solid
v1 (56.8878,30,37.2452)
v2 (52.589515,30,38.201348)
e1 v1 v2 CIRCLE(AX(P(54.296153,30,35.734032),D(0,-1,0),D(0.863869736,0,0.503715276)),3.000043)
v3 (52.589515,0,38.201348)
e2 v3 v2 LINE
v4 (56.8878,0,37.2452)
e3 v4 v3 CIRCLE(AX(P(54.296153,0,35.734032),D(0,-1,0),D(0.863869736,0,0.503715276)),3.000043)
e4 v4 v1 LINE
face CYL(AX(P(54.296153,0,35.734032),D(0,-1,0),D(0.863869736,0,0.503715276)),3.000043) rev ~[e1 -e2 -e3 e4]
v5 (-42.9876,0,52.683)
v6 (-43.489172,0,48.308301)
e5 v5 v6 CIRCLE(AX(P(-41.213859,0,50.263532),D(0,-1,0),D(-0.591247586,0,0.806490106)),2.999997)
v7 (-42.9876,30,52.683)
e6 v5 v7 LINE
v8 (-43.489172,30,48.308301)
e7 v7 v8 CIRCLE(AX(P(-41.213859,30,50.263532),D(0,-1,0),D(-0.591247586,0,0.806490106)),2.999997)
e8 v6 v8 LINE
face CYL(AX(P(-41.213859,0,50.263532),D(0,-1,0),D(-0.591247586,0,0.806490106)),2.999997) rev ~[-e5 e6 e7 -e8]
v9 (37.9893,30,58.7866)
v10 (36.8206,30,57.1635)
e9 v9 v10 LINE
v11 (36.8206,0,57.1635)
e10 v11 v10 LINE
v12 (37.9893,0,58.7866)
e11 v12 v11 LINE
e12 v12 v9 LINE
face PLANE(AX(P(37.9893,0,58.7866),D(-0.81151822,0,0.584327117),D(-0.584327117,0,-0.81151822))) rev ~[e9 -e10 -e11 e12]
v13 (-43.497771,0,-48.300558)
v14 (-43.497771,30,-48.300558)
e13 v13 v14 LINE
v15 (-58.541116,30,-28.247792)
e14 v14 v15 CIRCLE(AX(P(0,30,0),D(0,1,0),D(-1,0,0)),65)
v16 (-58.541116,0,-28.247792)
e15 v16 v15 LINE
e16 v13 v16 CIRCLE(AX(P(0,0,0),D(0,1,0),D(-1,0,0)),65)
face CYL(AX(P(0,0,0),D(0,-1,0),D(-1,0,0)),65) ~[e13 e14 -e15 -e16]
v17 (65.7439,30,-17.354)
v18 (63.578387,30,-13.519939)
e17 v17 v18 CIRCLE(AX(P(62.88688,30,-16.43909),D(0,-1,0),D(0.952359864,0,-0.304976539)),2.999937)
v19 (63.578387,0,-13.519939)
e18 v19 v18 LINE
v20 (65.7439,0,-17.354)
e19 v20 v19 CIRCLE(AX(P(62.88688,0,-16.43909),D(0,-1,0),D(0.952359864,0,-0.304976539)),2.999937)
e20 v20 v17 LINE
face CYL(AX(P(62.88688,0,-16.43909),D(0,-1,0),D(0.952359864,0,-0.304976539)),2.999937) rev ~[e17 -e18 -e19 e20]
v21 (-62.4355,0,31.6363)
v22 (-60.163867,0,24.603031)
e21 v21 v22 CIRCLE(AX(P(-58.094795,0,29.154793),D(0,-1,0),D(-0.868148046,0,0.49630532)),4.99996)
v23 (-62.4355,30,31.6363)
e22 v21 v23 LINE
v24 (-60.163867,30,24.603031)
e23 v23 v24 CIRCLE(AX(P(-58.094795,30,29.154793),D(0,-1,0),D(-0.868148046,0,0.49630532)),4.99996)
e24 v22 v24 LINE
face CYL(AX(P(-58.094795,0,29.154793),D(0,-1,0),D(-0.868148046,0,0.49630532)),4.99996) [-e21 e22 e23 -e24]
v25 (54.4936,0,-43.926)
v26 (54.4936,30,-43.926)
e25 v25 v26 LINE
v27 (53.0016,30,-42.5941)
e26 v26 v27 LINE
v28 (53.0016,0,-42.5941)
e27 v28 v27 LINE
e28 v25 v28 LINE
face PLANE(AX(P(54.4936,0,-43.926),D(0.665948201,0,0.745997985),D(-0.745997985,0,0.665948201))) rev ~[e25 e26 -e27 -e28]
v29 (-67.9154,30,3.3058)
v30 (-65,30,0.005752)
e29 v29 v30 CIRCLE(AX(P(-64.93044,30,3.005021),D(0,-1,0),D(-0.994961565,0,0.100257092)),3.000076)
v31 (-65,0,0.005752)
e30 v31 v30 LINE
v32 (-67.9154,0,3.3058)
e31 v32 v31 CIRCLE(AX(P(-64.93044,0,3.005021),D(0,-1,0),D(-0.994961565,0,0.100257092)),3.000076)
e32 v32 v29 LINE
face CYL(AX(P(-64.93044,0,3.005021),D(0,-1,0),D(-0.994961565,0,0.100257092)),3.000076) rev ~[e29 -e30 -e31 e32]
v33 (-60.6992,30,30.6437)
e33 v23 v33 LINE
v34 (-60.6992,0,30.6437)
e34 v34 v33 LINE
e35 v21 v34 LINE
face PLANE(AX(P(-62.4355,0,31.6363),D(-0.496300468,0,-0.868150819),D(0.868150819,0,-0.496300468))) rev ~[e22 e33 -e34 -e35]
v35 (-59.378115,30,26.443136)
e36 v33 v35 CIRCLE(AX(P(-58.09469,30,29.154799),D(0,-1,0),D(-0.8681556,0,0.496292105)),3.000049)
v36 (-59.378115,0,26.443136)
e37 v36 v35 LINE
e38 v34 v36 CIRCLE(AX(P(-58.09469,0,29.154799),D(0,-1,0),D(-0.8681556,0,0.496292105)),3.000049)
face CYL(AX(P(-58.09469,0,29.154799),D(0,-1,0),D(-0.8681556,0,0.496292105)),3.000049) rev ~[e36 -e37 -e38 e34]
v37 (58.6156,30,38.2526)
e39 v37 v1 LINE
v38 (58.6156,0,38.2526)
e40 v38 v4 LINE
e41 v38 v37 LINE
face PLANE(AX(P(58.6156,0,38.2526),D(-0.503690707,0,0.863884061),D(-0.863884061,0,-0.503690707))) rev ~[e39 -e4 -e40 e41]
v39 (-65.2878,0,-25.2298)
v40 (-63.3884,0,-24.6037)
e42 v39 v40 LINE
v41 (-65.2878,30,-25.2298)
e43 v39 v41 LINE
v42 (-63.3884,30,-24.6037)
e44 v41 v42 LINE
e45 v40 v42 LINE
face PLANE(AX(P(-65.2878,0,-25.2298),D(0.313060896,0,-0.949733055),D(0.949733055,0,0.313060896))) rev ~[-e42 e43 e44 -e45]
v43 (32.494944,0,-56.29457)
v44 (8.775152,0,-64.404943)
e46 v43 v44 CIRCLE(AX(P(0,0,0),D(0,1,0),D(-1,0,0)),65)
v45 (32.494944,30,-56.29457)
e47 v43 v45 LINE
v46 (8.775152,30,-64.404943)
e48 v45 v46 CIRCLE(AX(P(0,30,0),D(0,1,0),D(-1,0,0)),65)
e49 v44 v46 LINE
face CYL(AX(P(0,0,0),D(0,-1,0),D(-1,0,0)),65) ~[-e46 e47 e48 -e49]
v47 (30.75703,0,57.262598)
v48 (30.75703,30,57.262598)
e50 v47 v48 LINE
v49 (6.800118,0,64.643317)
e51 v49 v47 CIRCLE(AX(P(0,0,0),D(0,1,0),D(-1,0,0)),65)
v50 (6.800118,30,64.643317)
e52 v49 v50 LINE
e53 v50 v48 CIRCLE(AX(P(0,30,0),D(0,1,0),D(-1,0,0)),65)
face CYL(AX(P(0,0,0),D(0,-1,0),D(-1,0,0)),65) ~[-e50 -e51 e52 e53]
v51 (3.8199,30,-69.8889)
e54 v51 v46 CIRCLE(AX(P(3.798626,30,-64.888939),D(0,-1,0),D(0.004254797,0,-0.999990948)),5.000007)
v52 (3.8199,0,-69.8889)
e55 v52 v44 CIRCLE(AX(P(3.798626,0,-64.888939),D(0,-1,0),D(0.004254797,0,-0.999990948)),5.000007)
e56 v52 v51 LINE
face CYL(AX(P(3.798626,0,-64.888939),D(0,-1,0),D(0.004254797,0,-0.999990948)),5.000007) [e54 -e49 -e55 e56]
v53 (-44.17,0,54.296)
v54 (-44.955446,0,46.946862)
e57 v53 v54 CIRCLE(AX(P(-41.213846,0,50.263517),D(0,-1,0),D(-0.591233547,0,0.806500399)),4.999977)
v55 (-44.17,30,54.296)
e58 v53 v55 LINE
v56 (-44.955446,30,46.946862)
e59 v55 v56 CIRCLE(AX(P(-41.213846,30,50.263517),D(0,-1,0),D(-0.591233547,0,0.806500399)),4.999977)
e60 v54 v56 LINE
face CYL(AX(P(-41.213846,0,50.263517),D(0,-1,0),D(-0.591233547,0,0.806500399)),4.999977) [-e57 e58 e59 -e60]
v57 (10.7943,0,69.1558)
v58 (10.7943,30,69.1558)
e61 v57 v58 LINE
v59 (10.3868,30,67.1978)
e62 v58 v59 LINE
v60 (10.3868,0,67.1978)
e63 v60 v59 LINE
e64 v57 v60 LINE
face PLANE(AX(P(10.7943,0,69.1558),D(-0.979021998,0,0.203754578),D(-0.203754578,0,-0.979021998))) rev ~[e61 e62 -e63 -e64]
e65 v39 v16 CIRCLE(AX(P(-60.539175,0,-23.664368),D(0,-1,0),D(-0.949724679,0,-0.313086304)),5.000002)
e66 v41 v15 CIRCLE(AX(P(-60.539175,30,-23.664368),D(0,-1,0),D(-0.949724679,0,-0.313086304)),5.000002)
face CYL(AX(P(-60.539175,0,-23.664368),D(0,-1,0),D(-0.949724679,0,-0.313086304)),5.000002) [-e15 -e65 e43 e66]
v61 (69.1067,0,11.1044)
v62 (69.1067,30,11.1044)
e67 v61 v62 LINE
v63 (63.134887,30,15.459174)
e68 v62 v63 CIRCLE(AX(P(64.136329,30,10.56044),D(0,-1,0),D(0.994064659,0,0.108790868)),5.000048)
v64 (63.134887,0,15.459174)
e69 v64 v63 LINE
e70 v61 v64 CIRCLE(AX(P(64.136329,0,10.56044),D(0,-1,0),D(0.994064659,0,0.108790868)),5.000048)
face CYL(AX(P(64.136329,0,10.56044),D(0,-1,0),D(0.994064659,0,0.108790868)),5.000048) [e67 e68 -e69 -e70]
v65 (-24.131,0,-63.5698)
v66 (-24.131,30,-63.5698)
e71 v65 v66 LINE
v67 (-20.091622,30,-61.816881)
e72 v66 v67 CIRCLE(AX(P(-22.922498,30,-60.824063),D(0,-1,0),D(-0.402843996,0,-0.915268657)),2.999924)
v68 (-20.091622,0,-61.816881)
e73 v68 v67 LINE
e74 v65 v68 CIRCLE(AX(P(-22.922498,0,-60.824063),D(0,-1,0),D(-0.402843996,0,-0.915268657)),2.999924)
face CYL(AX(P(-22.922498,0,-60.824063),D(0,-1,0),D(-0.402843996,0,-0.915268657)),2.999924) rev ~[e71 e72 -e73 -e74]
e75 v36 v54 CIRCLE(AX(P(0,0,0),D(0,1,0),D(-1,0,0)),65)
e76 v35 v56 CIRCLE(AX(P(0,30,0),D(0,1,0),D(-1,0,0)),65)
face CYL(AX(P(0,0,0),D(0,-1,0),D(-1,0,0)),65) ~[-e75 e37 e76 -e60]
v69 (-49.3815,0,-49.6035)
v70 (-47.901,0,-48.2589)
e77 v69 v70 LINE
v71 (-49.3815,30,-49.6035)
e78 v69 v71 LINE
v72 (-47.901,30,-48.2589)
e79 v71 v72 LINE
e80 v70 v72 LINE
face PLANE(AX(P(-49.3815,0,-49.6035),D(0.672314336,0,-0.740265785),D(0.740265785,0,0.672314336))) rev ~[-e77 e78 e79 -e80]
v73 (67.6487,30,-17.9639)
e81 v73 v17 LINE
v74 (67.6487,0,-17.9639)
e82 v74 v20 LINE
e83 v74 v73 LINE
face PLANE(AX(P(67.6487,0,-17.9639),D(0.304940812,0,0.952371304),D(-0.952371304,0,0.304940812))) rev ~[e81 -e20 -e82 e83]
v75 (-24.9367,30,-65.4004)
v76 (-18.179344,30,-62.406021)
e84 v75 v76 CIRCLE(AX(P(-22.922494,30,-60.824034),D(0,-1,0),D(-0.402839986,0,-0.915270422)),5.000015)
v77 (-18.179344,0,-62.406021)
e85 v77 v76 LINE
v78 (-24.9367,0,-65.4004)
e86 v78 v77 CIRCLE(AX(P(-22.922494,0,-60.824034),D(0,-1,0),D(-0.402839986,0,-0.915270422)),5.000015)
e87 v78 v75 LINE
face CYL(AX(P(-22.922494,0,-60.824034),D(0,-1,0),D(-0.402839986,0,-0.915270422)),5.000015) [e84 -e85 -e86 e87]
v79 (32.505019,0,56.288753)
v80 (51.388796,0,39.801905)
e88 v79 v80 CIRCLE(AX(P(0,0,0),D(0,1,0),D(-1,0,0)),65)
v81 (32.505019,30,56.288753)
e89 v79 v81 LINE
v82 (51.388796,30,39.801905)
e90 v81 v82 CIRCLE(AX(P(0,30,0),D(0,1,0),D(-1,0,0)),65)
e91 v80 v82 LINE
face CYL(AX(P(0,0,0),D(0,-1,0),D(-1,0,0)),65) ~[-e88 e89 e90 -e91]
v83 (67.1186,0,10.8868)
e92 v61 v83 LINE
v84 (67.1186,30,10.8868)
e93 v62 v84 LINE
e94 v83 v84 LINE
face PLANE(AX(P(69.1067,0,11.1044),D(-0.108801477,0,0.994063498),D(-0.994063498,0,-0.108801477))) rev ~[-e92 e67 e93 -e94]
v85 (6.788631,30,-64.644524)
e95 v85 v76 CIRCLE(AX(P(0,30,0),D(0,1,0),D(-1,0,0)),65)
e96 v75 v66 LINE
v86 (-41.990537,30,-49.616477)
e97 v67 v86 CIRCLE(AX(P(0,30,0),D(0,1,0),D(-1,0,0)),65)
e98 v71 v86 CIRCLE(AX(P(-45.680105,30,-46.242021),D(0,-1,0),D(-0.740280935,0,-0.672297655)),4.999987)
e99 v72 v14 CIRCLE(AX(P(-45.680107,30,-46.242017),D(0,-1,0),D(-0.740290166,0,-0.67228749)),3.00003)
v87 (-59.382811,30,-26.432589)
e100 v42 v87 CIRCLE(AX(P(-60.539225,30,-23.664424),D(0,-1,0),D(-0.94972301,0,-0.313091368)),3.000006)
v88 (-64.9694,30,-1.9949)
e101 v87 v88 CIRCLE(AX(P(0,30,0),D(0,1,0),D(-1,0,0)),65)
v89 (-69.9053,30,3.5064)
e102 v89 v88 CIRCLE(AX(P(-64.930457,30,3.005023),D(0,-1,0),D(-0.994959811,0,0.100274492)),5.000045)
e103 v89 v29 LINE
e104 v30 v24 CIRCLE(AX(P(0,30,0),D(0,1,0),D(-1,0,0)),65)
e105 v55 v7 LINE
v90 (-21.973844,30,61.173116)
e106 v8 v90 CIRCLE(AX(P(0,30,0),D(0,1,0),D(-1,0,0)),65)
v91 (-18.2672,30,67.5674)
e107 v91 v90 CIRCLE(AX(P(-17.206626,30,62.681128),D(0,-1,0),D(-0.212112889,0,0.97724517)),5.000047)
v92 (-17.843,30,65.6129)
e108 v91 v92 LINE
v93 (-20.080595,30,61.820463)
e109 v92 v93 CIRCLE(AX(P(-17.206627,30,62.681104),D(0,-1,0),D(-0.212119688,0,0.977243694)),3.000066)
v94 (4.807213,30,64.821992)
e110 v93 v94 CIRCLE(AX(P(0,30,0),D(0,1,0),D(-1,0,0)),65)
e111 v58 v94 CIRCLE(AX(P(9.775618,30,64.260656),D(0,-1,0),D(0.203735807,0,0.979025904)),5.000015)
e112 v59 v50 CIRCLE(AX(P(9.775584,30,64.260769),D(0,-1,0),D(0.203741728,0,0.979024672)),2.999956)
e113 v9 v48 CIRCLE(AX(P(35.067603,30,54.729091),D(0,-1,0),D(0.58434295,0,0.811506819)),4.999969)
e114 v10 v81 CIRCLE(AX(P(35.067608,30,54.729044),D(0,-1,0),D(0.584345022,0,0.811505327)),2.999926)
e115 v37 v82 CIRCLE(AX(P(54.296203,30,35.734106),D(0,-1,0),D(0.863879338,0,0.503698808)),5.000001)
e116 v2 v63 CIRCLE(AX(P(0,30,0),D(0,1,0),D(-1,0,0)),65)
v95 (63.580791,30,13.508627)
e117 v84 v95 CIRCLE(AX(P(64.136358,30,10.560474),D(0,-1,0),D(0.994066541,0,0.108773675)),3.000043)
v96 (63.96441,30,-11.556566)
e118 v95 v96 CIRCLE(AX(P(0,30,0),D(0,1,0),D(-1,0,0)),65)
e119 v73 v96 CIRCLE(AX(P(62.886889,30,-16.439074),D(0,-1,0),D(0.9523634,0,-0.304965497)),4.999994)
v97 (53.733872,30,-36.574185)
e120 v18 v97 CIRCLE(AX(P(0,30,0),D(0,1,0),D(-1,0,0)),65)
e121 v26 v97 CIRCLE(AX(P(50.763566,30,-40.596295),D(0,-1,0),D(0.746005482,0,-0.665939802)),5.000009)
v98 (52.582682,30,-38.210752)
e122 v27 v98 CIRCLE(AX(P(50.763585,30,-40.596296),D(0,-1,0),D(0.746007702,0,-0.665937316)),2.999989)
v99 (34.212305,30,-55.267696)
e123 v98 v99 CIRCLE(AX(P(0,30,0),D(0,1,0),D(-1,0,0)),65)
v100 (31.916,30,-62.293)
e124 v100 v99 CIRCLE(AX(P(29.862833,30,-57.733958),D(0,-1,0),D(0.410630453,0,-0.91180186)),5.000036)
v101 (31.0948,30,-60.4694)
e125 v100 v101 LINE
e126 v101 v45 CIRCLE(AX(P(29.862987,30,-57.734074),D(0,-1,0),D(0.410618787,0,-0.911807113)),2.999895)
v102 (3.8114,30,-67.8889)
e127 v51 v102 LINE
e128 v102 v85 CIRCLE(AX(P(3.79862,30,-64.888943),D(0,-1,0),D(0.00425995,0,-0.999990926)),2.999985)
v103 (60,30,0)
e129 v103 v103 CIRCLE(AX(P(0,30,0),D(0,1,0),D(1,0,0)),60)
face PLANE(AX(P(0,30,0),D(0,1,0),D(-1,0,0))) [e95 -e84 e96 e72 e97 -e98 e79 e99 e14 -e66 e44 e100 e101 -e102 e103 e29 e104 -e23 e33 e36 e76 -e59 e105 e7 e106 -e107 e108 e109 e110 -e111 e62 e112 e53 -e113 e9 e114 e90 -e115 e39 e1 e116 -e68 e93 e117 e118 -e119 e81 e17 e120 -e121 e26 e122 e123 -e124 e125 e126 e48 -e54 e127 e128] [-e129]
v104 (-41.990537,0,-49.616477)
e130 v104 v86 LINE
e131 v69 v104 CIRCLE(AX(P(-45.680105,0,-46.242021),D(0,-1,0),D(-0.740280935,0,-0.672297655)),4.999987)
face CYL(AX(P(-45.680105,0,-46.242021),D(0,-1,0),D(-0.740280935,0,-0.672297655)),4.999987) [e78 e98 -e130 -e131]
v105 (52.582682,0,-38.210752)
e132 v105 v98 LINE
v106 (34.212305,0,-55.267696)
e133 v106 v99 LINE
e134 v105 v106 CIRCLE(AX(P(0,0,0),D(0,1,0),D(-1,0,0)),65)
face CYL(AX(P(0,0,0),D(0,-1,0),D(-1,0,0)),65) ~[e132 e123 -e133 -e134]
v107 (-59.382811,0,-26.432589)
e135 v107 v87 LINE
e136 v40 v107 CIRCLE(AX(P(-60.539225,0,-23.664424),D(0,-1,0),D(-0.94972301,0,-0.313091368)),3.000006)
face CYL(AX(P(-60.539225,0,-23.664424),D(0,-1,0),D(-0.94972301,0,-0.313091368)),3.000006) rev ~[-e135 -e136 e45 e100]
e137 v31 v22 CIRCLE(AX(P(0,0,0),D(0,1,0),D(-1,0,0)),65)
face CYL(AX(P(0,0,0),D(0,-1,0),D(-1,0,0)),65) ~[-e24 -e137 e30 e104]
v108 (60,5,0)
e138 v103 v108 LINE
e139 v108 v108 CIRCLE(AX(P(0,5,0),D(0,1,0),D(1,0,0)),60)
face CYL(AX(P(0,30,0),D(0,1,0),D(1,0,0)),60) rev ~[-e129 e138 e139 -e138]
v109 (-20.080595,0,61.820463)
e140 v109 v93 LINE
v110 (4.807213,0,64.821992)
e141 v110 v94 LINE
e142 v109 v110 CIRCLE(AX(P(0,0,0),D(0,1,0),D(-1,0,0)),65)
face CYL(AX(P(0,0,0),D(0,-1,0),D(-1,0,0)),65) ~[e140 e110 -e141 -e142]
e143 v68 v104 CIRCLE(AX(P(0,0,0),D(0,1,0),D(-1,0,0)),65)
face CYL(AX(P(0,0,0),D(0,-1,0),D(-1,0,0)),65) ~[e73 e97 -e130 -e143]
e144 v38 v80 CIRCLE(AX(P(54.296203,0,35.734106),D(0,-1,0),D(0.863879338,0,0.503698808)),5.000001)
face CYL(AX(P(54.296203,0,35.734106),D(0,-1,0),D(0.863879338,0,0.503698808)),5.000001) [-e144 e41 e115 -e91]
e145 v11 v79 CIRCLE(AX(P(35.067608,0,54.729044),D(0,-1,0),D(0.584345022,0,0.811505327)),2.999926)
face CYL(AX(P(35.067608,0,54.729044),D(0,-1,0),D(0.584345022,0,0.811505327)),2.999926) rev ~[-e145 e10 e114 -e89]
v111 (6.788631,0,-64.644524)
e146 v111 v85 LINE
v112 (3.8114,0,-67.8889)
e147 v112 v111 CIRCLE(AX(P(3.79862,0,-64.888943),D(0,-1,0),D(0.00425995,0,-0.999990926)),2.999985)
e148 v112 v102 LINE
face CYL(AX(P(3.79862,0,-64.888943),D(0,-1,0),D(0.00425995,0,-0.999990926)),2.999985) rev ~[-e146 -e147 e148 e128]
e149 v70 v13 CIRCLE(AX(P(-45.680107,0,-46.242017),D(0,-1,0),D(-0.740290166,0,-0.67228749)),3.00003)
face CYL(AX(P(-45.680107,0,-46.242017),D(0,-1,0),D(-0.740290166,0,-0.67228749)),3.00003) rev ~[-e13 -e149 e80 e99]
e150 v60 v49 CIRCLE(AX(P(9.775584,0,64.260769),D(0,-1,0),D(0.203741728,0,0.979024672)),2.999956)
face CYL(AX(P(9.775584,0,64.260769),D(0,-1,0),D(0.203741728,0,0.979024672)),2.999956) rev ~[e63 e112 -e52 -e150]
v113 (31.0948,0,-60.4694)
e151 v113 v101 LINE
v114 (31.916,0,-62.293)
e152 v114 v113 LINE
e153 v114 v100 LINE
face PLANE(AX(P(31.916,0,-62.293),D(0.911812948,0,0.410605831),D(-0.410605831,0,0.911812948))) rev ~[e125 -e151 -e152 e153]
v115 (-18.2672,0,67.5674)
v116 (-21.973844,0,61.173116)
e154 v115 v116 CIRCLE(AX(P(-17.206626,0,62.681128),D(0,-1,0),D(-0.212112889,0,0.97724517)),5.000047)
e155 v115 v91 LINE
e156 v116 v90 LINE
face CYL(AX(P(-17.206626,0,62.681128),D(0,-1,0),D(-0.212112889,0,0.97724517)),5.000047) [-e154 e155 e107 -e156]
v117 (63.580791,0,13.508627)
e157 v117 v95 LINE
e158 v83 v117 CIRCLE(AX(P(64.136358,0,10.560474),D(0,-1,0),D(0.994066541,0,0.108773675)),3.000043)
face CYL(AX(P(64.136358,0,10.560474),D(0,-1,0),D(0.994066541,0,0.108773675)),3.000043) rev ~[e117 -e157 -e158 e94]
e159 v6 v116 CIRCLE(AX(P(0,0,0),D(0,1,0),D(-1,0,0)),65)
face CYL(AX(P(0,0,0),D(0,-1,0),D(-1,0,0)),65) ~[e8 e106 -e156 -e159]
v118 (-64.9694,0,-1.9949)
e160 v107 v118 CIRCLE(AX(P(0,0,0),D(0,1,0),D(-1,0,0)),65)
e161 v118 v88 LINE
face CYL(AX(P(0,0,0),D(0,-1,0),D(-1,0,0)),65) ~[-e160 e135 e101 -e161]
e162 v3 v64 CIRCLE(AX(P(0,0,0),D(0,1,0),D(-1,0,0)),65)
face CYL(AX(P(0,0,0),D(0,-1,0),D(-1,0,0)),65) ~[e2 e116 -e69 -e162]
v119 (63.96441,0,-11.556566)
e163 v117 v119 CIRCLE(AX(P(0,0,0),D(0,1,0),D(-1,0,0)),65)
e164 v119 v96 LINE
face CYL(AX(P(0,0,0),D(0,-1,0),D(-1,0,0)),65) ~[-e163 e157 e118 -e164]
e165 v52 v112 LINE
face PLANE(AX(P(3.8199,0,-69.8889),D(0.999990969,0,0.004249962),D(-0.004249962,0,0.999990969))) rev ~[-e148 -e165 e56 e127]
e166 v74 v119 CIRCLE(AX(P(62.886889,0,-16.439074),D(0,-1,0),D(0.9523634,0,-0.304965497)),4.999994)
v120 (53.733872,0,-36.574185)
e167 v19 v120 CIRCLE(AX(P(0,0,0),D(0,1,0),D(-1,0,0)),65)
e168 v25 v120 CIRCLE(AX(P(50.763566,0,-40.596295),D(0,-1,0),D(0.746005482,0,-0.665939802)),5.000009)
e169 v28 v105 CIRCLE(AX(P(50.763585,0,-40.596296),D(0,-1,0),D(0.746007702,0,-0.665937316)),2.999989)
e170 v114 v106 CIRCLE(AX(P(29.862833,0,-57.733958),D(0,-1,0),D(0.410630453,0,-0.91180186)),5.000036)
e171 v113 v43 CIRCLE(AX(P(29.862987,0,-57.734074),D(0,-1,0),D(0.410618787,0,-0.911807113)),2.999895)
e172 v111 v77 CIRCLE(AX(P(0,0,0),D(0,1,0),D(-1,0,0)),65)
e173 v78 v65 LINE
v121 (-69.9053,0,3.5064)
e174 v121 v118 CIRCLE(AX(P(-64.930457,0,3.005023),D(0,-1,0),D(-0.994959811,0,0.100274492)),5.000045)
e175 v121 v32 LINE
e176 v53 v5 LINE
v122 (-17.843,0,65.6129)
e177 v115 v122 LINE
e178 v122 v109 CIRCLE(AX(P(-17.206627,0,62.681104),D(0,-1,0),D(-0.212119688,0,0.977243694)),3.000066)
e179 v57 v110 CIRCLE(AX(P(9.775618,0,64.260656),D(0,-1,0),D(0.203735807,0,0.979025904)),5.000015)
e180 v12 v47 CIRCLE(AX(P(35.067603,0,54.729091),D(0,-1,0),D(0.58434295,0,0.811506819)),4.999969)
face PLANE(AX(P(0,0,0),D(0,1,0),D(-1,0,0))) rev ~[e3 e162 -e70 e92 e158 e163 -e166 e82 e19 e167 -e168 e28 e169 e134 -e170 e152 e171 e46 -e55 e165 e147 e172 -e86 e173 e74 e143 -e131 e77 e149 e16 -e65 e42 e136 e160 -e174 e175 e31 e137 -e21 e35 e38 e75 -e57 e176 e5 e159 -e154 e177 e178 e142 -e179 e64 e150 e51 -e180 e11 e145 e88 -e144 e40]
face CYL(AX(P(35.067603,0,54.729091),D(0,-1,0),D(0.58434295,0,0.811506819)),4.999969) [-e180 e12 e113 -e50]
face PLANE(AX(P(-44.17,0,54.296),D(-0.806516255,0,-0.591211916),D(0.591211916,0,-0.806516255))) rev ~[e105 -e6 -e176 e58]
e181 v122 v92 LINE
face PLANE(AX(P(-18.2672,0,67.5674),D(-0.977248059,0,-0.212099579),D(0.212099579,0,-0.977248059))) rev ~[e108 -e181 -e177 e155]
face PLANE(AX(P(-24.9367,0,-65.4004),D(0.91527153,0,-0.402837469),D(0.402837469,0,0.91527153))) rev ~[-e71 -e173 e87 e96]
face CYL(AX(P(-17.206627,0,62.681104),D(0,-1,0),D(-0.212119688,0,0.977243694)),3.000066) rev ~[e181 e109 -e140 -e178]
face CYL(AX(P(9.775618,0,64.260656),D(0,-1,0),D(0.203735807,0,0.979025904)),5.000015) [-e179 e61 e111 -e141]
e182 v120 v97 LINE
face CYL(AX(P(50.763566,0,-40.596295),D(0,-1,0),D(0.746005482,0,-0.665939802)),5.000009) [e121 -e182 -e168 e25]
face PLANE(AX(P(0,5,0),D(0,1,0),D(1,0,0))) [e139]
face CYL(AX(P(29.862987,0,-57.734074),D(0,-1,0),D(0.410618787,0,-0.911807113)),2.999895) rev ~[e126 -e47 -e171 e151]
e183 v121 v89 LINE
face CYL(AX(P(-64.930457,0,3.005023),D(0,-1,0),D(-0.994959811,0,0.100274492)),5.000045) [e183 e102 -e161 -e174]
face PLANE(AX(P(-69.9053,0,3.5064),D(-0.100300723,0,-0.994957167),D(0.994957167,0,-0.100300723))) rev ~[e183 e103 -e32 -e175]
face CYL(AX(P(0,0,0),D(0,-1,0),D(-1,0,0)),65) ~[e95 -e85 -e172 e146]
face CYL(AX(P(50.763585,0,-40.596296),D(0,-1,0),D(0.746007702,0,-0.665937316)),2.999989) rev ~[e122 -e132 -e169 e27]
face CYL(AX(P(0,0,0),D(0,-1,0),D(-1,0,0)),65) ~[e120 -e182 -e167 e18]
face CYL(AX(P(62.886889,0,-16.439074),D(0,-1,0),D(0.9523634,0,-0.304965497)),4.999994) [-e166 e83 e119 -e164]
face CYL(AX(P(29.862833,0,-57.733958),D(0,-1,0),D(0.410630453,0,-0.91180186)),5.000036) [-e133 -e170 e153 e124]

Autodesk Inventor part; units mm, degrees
ref_plane "YZ Plane" through (0, 0, 0) normal (1, 0, 0) x (0, 1, 0)
ref_plane "XZ Plane" through (0, 0, 0) normal (0, 1, 0) x (-1, 0, 0)
ref_plane "XY Plane" through (0, 0, 0) normal (0, 0, 1) x (1, 0, 0)
sketch "スケッチ1" plane through (0, 0, 0) normal (1, 0, 0) x (0, 1, 0)
  point P0 (0, 0)
sketch "スケッチ2" plane through (0, 0, 0) normal (0, 1, 0) x (-1, 0, 0)
  circle A0 centre (0, 0) radius 65
  dimension "d1" = 130
extrude "押し出し1" add sketch "スケッチ2" along normal blind 30
sketch "スケッチ3" plane through (0, 30, 0) normal (0, 1, 0) x (1, 0, 0)
  circle A0 centre (0, 0) radius 60
  dimension "d4" = 120
extrude "押し出し2" cut sketch "スケッチ3" against normal blind 25
sketch "スケッチ4" plane through (0, 0, 0) normal (0, -1, 0) x (1, 0, 0)
  circle A0 centre (0, 0) radius 65 projected
  arc A1 (-64.9694, -1.9949) -> (-61.7673, -0.8673) centre (-64.9305, 3.005) ccw
  arc A2 (-69.9053, 3.5064) -> (-61.7673, -0.8673) centre (-64.9305, 3.005) ccw
  line L0 (-64.9305, 3.005) -> (-69.9053, 3.5064) construction
  line L1 (-64.9305, 3.005) -> (-61.7673, -0.8673) construction
  arc A3 (-67.9154, 3.3058) -> (-64.6802, 0.0154) centre (-64.9305, 3.005) ccw
  line L2 (-69.9053, 3.5064) -> (-67.9154, 3.3058)
  line L3 (-60.5392, -23.6644) -> (-65.2878, -25.2298) construction
  arc A4 (-63.3884, -24.6037) -> (-59.0946, -26.2937) centre (-60.5392, -23.6644) ccw
  arc A5 (-65.2878, -25.2298) -> (-56.0745, -25.9153) centre (-60.5392, -23.6644) ccw
  line L4 (-65.2878, -25.2298) -> (-63.3884, -24.6037)
  line L5 (-45.6801, -46.242) -> (-49.3815, -49.6035) construction
  arc A6 (-47.901, -48.2589) -> (-43.291, -48.0565) centre (-45.6801, -46.242) ccw
  arc A7 (-49.3815, -49.6035) -> (-40.6859, -46.4824) centre (-45.6801, -46.242) ccw
  line L6 (-49.3815, -49.6035) -> (-47.901, -48.2589)
  line L7 (-22.9225, -60.824) -> (-24.9367, -65.4004) construction
  arc A8 (-24.131, -63.5698) -> (-20.002, -61.5098) centre (-22.9225, -60.824) ccw
  arc A9 (-24.9367, -65.4004) -> (-18.2623, -59.0122) centre (-22.9225, -60.824) ccw
  line L8 (-24.9367, -65.4004) -> (-24.131, -63.5698)
  line L9 (3.7986, -64.8889) -> (3.8199, -69.8889) construction
  arc A10 (3.8114, -67.8889) -> (6.7456, -64.3275) centre (3.7986, -64.8889) ccw
  arc A11 (3.8199, -69.8889) -> (7.319, -61.3383) centre (3.7986, -64.8889) ccw
  line L10 (3.8199, -69.8889) -> (3.8114, -67.8889)
  line L11 (29.8629, -57.734) -> (31.916, -62.293) construction
  arc A12 (31.0948, -60.4694) -> (32.3267, -56.0225) centre (29.8629, -57.734) ccw
  arc A13 (31.916, -62.293) -> (31.6347, -53.0584) centre (29.8629, -57.734) ccw
  line L12 (31.916, -62.293) -> (31.0948, -60.4694)
  line L13 (50.7636, -40.5963) -> (54.4936, -43.926) construction
  arc A14 (53.0016, -42.5941) -> (52.3183, -38.0306) centre (50.7636, -40.5963) ccw
  arc A15 (54.4936, -43.926) -> (50.4806, -35.6043) centre (50.7636, -40.5963) ccw
  line L14 (54.4936, -43.926) -> (53.0016, -42.5941)
  line L15 (62.8868, -16.4391) -> (67.6487, -17.9639) construction
  arc A16 (65.7439, -17.354) -> (63.2636, -13.4629) centre (62.8868, -16.4391) ccw
  arc A17 (67.6487, -17.9639) -> (60.5979, -11.9938) centre (62.8868, -16.4391) ccw
  line L16 (67.6487, -17.9639) -> (65.7439, -17.354)
  line L17 (64.1364, 10.5605) -> (69.1067, 11.1044) construction
  arc A18 (67.1186, 10.8868) -> (63.27, 13.4327) centre (64.1364, 10.5605) ccw
  arc A19 (69.1067, 11.1044) -> (60.2372, 13.6905) centre (64.1364, 10.5605) ccw
  line L18 (69.1067, 11.1044) -> (67.1186, 10.8868)
  line L19 (54.2962, 35.7341) -> (58.6156, 38.2526) construction
  arc A20 (56.8878, 37.2452) -> (52.3365, 38.0056) centre (54.2962, 35.7341) ccw
  arc A21 (58.6156, 38.2526) -> (49.4611, 37.0076) centre (54.2962, 35.7341) ccw
  line L20 (58.6156, 38.2526) -> (56.8878, 37.2452)
  line L21 (35.0676, 54.729) -> (37.9893, 58.7866) construction
  arc A22 (36.8206, 57.1635) -> (32.3535, 56.007) centre (35.0676, 54.729) ccw
  arc A23 (37.9893, 58.7866) -> (30.1326, 53.9257) centre (35.0676, 54.729) ccw
  line L22 (37.9893, 58.7866) -> (36.8206, 57.1635)
  line L23 (9.7756, 64.2607) -> (10.7943, 69.1558) construction
  arc A24 (10.3868, 67.1978) -> (6.7763, 64.3243) centre (9.7756, 64.2607) ccw
  arc A25 (10.7943, 69.1558) -> (5.5939, 61.5196) centre (9.7756, 64.2607) ccw
  line L24 (10.7943, 69.1558) -> (10.3868, 67.1978)
  line L25 (-17.2067, 62.6812) -> (-18.2672, 67.5674) construction
  arc A26 (-17.843, 65.6129) -> (-19.9726, 61.5193) centre (-17.2067, 62.6812) ccw
  arc A27 (-18.2672, 67.5674) -> (-19.912, 58.4762) centre (-17.2067, 62.6812) ccw
  line L26 (-18.2672, 67.5674) -> (-17.843, 65.6129)
  line L27 (-41.2138, 50.2635) -> (-44.17, 54.296) construction
  arc A28 (-42.9876, 52.683) -> (-43.268, 48.0771) centre (-41.2138, 50.2635) ccw
  arc A29 (-44.17, 54.296) -> (-41.9749, 45.3218) centre (-41.2138, 50.2635) ccw
  line L28 (-44.17, 54.296) -> (-42.9876, 52.683)
  line L29 (-58.0947, 29.1548) -> (-62.4355, 31.6363) construction
  arc A30 (-60.6992, 30.6437) -> (-59.0821, 26.3219) centre (-58.0947, 29.1548) ccw
  arc A31 (-62.4355, 31.6363) -> (-56.78, 24.3308) centre (-58.0947, 29.1548) ccw
  line L30 (-62.4355, 31.6363) -> (-60.6992, 30.6437)
  point P0 (-21.9739, 61.1731)
  point P1 (-20.0806, 61.8205)
  point P2 (4.8072, 64.822)
  point P3 (6.8001, 64.6433)
  point P4 (30.7571, 57.2626)
  point P5 (32.505, 56.2888)
  point P6 (51.3888, 39.8019)
  point P7 (52.5895, 38.2014)
  point P8 (63.1349, 15.4592)
  point P9 (63.5808, 13.5086)
  point P10 (63.9644, -11.5566)
  point P11 (63.5784, -13.5199)
  point P12 (53.7339, -36.5742)
  point P13 (52.5827, -38.2107)
  point P14 (34.2123, -55.2677)
  point P15 (32.495, -56.2945)
  point P16 (8.7751, -64.405)
  point P17 (6.7886, -64.6445)
  point P18 (-18.1794, -62.406)
  point P19 (-20.0916, -61.8169)
  point P20 (-41.9905, -49.6165)
  point P21 (-43.4978, -48.3005)
  point P22 (-58.5411, -28.2478)
  point P23 (-59.3828, -26.4326)
  point P24 (-44.9555, 46.9468)
  point P25 (-43.4892, 48.3083)
  point P26 (-60.1639, 24.603)
  point P27 (-59.3781, 26.4432)
  point P28 (-64.9694, -1.9949)
  point P29 (-65, 0.0058)
  dimension "d8" = 5
  dimension "d9" = 135
  dimension "d10" = 3
  dimension "d13" = 360
sketch "スケッチ5" plane through (0, 0, 0) normal (0, -1, 0) x (1, 0, 0)
  circle A0 centre (0, 0) radius 65 projected
  line L0 (-65, 0) -> (-64.9694, -1.9932)
sketch "スケッチ6" plane through (0, 0, 0) normal (0, -1, 0) x (1, 0, 0)
  point P0 (0, 0)
extrude "押し出し3" add sketch "スケッチ4" against normal blind 30 contours A0 A19 L18 A18 | A17 L16 A16 A0 | A0 A21 L20 A20 | A15 L14 A14 A0 | A0 A23 L22 A22 | A13 L12 A12 A0 | A0 A25 L24 A24 | A11 L10 A10 A0 | A0 A27 L26 A26 | A9 L8 A8 A0 | A0 A29 L28 A28 | A7 L6 A6 A0 | A0 A31 L30 A30 | A5 L4 A4 A0 | A0 A2 L2 A3
properties part number "wheel_rib_ant1"
